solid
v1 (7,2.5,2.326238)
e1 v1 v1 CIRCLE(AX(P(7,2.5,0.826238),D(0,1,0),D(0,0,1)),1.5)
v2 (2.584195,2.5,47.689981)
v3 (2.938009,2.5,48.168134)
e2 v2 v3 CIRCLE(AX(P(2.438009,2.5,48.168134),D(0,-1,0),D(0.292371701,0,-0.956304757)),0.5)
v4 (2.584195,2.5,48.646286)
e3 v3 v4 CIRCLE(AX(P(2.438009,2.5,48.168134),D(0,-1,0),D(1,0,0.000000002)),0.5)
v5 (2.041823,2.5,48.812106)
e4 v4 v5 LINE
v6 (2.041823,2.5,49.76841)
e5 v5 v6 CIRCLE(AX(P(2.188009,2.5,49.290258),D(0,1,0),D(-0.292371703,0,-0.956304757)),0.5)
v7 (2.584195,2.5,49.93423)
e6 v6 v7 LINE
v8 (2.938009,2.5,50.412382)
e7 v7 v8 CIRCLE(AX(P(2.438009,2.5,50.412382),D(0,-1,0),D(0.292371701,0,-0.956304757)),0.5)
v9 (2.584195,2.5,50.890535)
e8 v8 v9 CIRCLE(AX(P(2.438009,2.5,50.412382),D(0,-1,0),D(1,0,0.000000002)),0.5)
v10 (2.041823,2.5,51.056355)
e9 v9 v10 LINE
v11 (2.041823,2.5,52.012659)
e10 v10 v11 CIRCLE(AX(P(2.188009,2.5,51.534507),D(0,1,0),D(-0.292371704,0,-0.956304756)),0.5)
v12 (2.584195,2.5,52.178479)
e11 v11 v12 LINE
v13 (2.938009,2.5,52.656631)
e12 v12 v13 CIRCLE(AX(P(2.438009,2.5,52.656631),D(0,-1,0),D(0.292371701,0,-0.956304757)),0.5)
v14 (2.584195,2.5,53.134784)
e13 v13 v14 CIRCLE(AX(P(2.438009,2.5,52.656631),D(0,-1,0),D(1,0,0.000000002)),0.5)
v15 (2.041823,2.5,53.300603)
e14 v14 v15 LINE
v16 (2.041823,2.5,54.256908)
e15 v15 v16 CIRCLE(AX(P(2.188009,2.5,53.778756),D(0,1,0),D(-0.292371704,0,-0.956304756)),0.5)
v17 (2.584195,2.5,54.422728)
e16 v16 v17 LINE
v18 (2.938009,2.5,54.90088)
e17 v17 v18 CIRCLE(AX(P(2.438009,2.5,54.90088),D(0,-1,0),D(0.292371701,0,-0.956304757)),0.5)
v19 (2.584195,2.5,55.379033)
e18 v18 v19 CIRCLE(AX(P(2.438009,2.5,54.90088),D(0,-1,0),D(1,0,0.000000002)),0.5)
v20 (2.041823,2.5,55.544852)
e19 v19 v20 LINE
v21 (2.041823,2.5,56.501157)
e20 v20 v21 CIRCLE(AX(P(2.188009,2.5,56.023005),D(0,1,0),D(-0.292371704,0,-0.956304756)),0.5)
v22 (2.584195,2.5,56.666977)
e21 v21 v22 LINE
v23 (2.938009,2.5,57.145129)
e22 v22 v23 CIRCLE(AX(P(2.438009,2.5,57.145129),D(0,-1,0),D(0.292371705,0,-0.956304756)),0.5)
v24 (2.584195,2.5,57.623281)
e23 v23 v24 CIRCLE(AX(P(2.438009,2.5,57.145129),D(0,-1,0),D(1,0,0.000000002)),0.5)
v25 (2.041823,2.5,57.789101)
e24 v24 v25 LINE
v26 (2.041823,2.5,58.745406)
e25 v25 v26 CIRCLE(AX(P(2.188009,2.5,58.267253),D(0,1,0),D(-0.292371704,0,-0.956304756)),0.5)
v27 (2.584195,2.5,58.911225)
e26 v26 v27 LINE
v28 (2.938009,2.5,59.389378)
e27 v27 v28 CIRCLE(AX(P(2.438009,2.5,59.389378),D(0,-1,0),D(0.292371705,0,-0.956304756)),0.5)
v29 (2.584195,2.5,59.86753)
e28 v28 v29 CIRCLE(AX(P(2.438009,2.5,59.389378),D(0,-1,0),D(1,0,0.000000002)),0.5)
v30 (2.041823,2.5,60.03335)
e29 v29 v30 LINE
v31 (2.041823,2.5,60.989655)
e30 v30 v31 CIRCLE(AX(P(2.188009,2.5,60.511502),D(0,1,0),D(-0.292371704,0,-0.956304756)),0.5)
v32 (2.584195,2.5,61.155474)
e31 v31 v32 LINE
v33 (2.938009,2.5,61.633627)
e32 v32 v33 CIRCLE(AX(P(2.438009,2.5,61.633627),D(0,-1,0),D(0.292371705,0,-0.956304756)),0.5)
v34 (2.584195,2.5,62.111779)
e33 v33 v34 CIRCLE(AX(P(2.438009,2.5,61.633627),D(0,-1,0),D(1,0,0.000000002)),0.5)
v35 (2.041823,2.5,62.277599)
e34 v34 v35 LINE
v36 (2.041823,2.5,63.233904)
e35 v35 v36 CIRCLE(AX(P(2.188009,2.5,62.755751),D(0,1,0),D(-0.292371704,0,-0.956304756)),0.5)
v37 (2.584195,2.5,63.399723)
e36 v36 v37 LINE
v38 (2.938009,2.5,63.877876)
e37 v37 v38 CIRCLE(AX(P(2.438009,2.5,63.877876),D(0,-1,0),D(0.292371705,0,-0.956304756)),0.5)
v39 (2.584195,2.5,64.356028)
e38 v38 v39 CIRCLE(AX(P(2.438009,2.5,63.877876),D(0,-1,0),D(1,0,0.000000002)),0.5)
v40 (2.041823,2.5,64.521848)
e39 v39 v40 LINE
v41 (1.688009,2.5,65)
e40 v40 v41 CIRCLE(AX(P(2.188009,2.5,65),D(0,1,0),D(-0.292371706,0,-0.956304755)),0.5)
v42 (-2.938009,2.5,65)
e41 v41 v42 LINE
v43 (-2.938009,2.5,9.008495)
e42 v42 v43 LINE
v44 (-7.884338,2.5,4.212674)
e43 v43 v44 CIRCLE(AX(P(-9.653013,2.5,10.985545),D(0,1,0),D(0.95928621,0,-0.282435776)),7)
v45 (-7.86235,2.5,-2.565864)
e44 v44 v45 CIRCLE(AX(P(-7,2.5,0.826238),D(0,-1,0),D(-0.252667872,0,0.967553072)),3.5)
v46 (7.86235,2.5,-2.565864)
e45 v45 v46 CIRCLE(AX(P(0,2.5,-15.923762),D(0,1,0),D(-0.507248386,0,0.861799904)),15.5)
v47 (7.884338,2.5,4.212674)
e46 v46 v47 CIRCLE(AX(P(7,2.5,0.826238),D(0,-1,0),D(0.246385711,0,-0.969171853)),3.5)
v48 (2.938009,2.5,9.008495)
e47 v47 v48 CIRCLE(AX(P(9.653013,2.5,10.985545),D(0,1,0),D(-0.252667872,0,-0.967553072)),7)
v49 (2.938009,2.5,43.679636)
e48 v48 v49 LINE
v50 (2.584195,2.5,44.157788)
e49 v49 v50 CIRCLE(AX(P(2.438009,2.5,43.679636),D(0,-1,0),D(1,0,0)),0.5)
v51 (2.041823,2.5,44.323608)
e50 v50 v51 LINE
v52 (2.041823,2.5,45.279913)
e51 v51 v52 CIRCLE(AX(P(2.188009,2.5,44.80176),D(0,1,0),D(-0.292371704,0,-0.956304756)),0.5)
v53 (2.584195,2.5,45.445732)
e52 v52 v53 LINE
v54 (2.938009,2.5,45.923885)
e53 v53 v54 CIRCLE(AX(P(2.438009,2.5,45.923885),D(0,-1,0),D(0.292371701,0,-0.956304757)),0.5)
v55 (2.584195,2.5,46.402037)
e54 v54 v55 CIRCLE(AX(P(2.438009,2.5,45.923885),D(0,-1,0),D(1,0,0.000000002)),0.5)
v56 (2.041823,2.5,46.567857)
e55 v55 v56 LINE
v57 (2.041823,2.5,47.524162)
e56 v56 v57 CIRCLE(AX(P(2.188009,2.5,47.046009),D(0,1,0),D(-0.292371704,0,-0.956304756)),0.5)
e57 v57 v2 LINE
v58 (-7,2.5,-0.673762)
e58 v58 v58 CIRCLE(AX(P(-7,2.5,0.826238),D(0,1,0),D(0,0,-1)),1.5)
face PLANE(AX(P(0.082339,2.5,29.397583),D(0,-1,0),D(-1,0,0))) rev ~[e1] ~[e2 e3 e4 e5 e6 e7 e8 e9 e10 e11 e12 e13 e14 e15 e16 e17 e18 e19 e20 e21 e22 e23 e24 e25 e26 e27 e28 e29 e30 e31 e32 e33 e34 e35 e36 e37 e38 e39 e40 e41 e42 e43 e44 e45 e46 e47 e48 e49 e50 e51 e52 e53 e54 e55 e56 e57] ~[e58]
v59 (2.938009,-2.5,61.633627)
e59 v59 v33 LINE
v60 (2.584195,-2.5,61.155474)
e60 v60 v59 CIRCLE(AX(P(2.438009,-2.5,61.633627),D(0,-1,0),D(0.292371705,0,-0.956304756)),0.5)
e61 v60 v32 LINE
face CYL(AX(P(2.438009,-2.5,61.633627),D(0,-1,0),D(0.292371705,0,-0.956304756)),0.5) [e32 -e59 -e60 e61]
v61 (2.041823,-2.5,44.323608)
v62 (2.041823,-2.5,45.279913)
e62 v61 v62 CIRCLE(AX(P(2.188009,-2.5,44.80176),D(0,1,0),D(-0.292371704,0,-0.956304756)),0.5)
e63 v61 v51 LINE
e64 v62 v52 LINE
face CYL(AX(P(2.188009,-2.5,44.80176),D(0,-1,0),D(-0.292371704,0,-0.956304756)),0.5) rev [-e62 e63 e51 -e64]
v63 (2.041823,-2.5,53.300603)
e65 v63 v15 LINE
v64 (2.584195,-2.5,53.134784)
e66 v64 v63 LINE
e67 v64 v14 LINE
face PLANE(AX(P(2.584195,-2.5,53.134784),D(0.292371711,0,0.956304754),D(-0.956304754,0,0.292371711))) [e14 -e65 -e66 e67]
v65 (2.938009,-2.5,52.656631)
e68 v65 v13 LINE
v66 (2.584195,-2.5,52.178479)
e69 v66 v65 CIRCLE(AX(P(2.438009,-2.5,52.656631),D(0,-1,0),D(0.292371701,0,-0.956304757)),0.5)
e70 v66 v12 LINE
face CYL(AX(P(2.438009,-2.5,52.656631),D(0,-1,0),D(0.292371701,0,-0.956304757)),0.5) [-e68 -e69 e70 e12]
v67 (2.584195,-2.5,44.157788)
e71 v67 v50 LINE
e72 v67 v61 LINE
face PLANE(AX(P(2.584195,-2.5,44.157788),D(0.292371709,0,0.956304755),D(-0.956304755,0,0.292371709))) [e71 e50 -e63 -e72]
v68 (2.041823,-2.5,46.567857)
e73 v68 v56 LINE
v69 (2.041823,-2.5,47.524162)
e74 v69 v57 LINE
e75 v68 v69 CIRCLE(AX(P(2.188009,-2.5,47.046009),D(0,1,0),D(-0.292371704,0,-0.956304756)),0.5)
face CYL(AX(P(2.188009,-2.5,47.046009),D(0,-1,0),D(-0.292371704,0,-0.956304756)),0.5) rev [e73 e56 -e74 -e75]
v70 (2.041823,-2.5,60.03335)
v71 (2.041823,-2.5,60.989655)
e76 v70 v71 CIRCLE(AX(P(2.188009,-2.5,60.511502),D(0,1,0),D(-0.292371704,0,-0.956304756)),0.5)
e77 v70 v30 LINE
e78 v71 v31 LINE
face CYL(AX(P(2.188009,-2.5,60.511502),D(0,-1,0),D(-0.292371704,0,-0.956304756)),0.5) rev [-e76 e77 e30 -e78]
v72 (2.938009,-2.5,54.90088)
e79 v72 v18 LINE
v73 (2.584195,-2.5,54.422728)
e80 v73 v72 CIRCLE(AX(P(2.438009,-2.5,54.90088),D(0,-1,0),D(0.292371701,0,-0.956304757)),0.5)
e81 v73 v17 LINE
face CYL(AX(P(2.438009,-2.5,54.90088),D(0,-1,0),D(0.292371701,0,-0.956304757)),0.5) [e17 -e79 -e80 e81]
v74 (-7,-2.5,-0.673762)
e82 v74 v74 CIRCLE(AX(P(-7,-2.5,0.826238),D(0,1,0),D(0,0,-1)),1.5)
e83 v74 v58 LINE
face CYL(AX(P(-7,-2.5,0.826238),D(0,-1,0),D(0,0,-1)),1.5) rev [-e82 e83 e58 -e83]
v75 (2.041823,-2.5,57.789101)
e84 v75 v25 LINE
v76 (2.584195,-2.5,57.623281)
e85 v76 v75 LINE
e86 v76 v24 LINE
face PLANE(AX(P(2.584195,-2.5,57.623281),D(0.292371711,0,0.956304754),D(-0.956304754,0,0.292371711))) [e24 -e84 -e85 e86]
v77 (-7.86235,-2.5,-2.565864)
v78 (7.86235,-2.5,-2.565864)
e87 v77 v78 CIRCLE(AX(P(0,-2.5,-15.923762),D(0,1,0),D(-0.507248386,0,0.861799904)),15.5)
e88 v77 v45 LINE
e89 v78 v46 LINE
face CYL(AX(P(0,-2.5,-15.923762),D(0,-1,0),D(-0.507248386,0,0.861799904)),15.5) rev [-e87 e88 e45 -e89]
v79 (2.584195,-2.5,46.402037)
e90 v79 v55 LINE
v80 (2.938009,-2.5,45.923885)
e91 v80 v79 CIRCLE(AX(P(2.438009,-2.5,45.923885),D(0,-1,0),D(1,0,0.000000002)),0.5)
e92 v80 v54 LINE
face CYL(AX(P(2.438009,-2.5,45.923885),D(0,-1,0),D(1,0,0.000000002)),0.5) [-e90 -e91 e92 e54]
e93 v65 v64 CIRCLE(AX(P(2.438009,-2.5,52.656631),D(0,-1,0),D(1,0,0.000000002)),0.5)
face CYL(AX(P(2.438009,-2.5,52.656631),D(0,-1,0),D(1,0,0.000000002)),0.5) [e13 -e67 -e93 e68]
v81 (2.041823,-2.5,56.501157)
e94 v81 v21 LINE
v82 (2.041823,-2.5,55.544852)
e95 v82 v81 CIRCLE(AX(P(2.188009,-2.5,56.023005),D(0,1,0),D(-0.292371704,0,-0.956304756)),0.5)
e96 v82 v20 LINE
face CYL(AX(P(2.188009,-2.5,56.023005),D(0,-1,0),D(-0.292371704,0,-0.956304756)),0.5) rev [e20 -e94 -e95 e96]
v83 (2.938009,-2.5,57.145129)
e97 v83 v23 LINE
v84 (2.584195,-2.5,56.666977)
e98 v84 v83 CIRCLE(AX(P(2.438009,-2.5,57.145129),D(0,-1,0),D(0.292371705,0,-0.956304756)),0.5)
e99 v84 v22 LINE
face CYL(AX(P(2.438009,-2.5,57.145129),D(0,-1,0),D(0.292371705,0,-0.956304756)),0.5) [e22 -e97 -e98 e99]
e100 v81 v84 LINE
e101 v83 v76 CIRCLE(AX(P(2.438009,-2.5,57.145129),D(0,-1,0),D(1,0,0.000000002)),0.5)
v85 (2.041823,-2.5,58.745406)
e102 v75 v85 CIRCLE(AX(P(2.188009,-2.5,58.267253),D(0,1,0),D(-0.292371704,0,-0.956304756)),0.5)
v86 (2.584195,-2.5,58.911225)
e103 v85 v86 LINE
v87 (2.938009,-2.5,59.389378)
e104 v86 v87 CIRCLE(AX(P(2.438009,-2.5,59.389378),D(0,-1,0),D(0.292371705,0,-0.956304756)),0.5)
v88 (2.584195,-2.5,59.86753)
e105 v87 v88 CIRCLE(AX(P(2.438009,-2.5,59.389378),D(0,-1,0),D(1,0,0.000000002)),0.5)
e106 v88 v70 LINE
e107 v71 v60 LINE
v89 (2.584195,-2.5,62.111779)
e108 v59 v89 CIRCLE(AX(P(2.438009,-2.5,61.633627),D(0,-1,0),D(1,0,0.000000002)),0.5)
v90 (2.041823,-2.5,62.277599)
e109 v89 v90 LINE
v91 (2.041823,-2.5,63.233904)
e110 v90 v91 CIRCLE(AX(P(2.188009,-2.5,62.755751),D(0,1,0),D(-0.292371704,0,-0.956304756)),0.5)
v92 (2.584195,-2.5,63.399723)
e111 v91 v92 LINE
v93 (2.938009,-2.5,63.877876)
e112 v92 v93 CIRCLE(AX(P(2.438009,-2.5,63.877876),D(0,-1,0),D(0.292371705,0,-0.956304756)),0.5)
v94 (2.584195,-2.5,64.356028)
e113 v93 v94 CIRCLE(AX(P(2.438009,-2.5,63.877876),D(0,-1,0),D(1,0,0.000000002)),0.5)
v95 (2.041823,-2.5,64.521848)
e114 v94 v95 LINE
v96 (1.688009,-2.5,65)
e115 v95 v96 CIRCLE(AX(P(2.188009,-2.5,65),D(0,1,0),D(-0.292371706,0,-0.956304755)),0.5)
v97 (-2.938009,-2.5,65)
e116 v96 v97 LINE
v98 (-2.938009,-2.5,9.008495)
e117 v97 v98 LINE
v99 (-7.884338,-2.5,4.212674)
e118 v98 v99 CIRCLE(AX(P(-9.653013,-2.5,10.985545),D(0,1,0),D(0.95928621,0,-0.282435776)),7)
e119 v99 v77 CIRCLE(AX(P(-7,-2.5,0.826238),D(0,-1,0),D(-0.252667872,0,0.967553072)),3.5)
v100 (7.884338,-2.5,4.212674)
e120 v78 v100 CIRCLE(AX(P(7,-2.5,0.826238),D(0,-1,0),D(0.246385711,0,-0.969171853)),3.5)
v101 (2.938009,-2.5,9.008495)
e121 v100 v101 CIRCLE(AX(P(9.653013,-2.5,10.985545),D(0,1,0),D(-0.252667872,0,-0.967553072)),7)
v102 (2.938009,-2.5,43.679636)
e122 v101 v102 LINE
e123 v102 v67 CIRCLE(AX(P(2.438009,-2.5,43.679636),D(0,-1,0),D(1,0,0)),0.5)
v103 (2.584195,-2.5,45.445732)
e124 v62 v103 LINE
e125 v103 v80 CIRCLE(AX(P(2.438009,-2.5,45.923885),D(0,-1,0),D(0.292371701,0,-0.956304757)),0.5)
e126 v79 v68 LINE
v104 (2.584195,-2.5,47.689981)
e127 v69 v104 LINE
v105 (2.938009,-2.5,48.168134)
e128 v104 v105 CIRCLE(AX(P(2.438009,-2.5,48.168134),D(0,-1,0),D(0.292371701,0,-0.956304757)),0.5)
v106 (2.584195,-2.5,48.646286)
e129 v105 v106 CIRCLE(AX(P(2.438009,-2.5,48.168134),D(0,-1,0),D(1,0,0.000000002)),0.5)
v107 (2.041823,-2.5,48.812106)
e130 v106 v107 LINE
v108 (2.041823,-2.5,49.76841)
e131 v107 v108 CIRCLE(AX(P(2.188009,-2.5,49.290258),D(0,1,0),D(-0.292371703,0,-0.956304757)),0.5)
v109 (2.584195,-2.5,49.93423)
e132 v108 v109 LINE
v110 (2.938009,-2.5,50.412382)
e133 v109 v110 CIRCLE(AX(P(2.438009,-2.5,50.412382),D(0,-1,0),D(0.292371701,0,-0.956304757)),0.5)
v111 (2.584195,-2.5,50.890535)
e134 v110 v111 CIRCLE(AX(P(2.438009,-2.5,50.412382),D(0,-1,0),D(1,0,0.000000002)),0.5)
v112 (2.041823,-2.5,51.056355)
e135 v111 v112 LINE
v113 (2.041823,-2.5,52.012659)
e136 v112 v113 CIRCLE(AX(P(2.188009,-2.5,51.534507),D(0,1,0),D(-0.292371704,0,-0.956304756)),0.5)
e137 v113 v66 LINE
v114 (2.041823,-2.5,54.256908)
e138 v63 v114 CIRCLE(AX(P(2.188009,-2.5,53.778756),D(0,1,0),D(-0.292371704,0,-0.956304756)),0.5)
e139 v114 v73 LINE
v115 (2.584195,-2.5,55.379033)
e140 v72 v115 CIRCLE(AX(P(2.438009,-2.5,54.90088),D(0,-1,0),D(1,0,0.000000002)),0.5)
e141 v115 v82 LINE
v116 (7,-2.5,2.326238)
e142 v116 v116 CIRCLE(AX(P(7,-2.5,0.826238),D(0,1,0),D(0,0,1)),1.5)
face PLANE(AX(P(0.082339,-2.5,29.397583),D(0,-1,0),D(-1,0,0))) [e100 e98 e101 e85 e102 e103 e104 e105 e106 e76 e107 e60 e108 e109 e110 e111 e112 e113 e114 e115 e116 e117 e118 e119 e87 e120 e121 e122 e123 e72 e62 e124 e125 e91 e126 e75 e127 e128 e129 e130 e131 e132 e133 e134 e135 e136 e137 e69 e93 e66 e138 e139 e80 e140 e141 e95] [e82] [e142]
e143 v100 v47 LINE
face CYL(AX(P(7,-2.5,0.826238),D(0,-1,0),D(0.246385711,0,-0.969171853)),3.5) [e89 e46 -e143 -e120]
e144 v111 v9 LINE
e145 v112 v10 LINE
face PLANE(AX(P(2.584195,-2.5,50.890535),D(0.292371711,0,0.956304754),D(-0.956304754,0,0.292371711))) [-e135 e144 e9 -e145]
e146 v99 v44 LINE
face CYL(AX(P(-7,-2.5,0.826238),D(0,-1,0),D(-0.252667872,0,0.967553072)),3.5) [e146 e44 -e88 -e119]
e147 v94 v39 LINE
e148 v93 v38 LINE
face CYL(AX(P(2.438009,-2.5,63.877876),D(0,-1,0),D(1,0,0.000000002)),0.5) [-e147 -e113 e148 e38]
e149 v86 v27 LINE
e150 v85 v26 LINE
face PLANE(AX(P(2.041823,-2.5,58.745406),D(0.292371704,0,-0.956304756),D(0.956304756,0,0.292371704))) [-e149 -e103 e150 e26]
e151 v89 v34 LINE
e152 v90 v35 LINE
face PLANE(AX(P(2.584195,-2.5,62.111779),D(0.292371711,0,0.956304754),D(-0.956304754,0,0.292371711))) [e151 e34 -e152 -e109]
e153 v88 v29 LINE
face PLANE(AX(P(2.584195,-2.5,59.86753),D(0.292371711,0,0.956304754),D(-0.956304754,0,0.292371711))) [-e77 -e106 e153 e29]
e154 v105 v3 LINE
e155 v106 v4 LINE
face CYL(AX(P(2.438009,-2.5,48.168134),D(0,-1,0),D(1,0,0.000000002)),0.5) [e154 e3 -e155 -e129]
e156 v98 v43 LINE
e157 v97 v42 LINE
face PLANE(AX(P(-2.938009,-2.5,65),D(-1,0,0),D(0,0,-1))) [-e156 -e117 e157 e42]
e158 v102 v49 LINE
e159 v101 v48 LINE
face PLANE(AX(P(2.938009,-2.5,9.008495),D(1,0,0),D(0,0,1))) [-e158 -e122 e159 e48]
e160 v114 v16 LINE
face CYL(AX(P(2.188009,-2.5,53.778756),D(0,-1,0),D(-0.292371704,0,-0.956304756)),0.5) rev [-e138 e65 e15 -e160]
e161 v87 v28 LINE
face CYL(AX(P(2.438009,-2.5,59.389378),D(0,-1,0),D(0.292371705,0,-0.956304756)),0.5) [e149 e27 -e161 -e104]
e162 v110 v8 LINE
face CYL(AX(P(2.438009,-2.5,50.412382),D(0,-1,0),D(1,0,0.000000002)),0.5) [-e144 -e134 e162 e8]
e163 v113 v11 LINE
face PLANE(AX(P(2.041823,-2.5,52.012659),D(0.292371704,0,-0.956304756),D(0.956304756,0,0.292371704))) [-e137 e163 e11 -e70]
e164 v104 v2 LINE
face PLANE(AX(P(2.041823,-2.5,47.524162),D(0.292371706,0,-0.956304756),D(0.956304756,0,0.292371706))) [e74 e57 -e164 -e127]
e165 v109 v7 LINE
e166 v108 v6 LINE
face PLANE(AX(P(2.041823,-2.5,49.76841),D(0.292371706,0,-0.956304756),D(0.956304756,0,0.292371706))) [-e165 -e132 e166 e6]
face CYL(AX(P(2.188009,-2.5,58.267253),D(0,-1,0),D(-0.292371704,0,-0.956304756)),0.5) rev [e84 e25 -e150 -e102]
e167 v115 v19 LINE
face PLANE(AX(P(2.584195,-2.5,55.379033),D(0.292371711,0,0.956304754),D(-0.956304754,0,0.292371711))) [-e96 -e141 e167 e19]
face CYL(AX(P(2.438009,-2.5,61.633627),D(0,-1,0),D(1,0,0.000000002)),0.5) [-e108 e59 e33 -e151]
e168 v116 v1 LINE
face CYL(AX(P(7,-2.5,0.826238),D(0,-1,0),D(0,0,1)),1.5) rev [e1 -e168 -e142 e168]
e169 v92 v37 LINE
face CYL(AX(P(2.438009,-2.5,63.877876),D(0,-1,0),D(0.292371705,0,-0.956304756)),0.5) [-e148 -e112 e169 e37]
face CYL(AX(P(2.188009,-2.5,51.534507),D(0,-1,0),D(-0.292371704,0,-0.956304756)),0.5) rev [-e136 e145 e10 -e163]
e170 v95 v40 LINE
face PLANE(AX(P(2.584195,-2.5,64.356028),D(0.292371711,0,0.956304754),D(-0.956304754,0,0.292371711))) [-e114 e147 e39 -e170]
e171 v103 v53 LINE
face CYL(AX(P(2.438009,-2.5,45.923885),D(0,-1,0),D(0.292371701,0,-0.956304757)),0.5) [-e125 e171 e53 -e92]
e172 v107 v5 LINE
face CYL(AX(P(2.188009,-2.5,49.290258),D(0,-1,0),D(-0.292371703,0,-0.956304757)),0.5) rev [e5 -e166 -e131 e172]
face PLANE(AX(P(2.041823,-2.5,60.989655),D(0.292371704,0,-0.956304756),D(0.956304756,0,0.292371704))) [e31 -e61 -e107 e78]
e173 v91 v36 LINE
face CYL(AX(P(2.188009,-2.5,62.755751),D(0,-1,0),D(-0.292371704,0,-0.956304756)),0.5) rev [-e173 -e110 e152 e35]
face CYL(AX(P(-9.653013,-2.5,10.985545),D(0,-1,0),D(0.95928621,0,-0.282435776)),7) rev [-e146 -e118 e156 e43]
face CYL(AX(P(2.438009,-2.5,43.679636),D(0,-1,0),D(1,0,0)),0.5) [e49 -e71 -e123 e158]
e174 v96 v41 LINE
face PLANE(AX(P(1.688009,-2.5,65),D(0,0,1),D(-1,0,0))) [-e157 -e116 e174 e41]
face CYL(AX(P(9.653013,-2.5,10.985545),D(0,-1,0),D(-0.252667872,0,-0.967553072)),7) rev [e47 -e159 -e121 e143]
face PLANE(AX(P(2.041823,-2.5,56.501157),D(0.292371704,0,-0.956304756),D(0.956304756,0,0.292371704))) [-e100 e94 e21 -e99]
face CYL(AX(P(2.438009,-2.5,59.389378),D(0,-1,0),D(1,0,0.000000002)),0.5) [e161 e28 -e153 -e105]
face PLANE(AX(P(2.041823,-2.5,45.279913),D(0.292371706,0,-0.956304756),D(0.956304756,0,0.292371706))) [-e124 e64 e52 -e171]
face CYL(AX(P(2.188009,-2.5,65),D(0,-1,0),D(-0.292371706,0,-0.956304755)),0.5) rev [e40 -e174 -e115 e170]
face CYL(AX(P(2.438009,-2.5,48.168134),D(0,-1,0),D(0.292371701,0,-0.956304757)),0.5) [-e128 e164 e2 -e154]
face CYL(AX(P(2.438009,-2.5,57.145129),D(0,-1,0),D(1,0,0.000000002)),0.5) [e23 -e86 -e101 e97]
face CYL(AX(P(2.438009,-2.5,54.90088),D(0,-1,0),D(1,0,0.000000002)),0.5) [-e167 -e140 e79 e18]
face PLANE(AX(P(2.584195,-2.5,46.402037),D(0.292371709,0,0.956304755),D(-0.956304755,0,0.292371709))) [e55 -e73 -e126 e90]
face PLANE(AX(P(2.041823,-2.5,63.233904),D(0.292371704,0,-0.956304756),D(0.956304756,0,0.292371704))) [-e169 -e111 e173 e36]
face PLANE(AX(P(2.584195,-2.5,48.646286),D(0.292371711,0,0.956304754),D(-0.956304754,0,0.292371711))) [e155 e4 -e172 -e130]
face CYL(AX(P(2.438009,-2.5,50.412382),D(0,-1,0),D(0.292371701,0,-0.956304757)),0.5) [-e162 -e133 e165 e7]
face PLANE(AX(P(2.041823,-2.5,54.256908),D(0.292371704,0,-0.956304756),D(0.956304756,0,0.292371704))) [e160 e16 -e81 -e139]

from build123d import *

# Parameters (mm, degrees)
BOSS_EXTRU_1_DEPTH      = 2.5
BOSS_EXTRU_1_DEPTH_BACK = 2.5
ESQUISSE1_R             = 1.5


with BuildPart() as part:
    # Esquisse1 → Boss.-Extru.1 (new, two sides: drawn at the far end of the back side and taken through both)
    with BuildSketch(Plane(origin=(0, 0, 0), x_dir=(1, 0, 0), z_dir=(0, 1, 0)).offset(-BOSS_EXTRU_1_DEPTH_BACK)):
        with BuildLine():
            Line((1.688009203, -65), (-2.938009191, -65))
            Line((-2.938009191, -65), (-2.938009191, -9.008494736))
            ThreePointArc((-2.938009191, -9.008494736), (-4.78031572, -5.95992834), (-7.884337553, -4.212673672))
            ThreePointArc((-7.884337553, -4.212673672), (-10.499981587, -0.814885018), (-7.862349987, 2.565863566))
            ThreePointArc((-7.862349987, 2.565863566), (0, 0.423762079), (7.862349987, 2.565863566))
            ThreePointArc((7.862349987, 2.565863566), (10.499981587, -0.814885018), (7.884337553, -4.212673672))
            ThreePointArc((7.884337553, -4.212673672), (4.78031572, -5.95992834), (2.938009191, -9.008494736))
            Line((2.938009191, -9.008494736), (2.938009191, -43.679635922))
            ThreePointArc((2.938009191, -43.679635922), (2.839937622, -43.977047315), (2.584195047, -44.1577883))
            Line((2.584195047, -44.1577883), (2.041823351, -44.323607971))
            ThreePointArc((2.041823351, -44.323607971), (1.688009203, -44.801760349), (2.041823351, -45.279912727))
            Line((2.041823351, -45.279912727), (2.584195044, -45.445732395))
            ThreePointArc((2.584195044, -45.445732395), (2.839937622, -45.626473379), (2.938009191, -45.923884773))
            ThreePointArc((2.938009191, -45.923884773), (2.839937622, -46.221296165), (2.584195047, -46.40203715))
            Line((2.584195047, -46.40203715), (2.041823351, -46.567856821))
            ThreePointArc((2.041823351, -46.567856821), (1.688009203, -47.046009199), (2.041823351, -47.524161577))
            Line((2.041823351, -47.524161577), (2.584195044, -47.689981245))
            ThreePointArc((2.584195044, -47.689981245), (2.839937622, -47.870722229), (2.938009191, -48.168133623))
            ThreePointArc((2.938009191, -48.168133623), (2.839937622, -48.465545015), (2.584195047, -48.646286))
            Line((2.584195047, -48.646286), (2.041823351, -48.812105672))
            ThreePointArc((2.041823351, -48.812105672), (1.688009203, -49.290258049), (2.041823351, -49.768410427))
            Line((2.041823351, -49.768410427), (2.584195044, -49.934230095))
            ThreePointArc((2.584195044, -49.934230095), (2.839937622, -50.114971079), (2.938009191, -50.412382473))
            ThreePointArc((2.938009191, -50.412382473), (2.839937622, -50.709793865), (2.584195047, -50.89053485))
            Line((2.584195047, -50.89053485), (2.041823351, -51.056354522))
            ThreePointArc((2.041823351, -51.056354522), (1.688009203, -51.5345069), (2.041823351, -52.012659278))
            Line((2.041823351, -52.012659278), (2.584195044, -52.178478945))
            ThreePointArc((2.584195044, -52.178478945), (2.839937622, -52.359219929), (2.938009191, -52.656631323))
            ThreePointArc((2.938009191, -52.656631323), (2.839937622, -52.954042715), (2.584195047, -53.1347837))
            Line((2.584195047, -53.1347837), (2.041823351, -53.300603372))
            ThreePointArc((2.041823351, -53.300603372), (1.688009203, -53.77875575), (2.041823351, -54.256908128))
            Line((2.041823351, -54.256908128), (2.584195044, -54.422727795))
            ThreePointArc((2.584195044, -54.422727795), (2.839937622, -54.603468779), (2.938009191, -54.900880173))
            ThreePointArc((2.938009191, -54.900880173), (2.839937622, -55.198291565), (2.584195047, -55.37903255))
            Line((2.584195047, -55.37903255), (2.041823351, -55.544852222))
            ThreePointArc((2.041823351, -55.544852222), (1.688009203, -56.0230046), (2.041823351, -56.501156978))
            Line((2.041823351, -56.501156978), (2.584195044, -56.666976645))
            ThreePointArc((2.584195044, -56.666976645), (2.839937622, -56.84771763), (2.938009191, -57.145129023))
            ThreePointArc((2.938009191, -57.145129023), (2.839937622, -57.442540415), (2.584195047, -57.6232814))
            Line((2.584195047, -57.6232814), (2.041823351, -57.789101072))
            ThreePointArc((2.041823351, -57.789101072), (1.688009203, -58.26725345), (2.041823351, -58.745405828))
            Line((2.041823351, -58.745405828), (2.584195044, -58.911225495))
            ThreePointArc((2.584195044, -58.911225495), (2.839937622, -59.09196648), (2.938009191, -59.389377873))
            ThreePointArc((2.938009191, -59.389377873), (2.839937622, -59.686789265), (2.584195047, -59.86753025))
            Line((2.584195047, -59.86753025), (2.041823351, -60.033349922))
            ThreePointArc((2.041823351, -60.033349922), (1.688009203, -60.5115023), (2.041823351, -60.989654678))
            Line((2.041823351, -60.989654678), (2.584195044, -61.155474345))
            ThreePointArc((2.584195044, -61.155474345), (2.839937622, -61.33621533), (2.938009191, -61.633626723))
            ThreePointArc((2.938009191, -61.633626723), (2.839937622, -61.931038115), (2.584195047, -62.1117791))
            Line((2.584195047, -62.1117791), (2.041823351, -62.277598772))
            ThreePointArc((2.041823351, -62.277598772), (1.688009203, -62.75575115), (2.041823351, -63.233903528))
            Line((2.041823351, -63.233903528), (2.584195044, -63.399723195))
            ThreePointArc((2.584195044, -63.399723195), (2.839937622, -63.58046418), (2.938009191, -63.877875573))
            ThreePointArc((2.938009191, -63.877875573), (2.839937622, -64.175286965), (2.584195047, -64.35602795))
            Line((2.584195047, -64.35602795), (2.041823351, -64.521847622))
            ThreePointArc((2.041823351, -64.521847622), (1.786080773, -64.702588607), (1.688009203, -65))
        make_face()
        with Locations((7, -0.826237921)):
            Circle(ESQUISSE1_R, mode=Mode.SUBTRACT)
        with Locations((-7, -0.826237921)):
            Circle(ESQUISSE1_R, mode=Mode.SUBTRACT)
    extrude(amount=BOSS_EXTRU_1_DEPTH + BOSS_EXTRU_1_DEPTH_BACK)


solid = part.part
